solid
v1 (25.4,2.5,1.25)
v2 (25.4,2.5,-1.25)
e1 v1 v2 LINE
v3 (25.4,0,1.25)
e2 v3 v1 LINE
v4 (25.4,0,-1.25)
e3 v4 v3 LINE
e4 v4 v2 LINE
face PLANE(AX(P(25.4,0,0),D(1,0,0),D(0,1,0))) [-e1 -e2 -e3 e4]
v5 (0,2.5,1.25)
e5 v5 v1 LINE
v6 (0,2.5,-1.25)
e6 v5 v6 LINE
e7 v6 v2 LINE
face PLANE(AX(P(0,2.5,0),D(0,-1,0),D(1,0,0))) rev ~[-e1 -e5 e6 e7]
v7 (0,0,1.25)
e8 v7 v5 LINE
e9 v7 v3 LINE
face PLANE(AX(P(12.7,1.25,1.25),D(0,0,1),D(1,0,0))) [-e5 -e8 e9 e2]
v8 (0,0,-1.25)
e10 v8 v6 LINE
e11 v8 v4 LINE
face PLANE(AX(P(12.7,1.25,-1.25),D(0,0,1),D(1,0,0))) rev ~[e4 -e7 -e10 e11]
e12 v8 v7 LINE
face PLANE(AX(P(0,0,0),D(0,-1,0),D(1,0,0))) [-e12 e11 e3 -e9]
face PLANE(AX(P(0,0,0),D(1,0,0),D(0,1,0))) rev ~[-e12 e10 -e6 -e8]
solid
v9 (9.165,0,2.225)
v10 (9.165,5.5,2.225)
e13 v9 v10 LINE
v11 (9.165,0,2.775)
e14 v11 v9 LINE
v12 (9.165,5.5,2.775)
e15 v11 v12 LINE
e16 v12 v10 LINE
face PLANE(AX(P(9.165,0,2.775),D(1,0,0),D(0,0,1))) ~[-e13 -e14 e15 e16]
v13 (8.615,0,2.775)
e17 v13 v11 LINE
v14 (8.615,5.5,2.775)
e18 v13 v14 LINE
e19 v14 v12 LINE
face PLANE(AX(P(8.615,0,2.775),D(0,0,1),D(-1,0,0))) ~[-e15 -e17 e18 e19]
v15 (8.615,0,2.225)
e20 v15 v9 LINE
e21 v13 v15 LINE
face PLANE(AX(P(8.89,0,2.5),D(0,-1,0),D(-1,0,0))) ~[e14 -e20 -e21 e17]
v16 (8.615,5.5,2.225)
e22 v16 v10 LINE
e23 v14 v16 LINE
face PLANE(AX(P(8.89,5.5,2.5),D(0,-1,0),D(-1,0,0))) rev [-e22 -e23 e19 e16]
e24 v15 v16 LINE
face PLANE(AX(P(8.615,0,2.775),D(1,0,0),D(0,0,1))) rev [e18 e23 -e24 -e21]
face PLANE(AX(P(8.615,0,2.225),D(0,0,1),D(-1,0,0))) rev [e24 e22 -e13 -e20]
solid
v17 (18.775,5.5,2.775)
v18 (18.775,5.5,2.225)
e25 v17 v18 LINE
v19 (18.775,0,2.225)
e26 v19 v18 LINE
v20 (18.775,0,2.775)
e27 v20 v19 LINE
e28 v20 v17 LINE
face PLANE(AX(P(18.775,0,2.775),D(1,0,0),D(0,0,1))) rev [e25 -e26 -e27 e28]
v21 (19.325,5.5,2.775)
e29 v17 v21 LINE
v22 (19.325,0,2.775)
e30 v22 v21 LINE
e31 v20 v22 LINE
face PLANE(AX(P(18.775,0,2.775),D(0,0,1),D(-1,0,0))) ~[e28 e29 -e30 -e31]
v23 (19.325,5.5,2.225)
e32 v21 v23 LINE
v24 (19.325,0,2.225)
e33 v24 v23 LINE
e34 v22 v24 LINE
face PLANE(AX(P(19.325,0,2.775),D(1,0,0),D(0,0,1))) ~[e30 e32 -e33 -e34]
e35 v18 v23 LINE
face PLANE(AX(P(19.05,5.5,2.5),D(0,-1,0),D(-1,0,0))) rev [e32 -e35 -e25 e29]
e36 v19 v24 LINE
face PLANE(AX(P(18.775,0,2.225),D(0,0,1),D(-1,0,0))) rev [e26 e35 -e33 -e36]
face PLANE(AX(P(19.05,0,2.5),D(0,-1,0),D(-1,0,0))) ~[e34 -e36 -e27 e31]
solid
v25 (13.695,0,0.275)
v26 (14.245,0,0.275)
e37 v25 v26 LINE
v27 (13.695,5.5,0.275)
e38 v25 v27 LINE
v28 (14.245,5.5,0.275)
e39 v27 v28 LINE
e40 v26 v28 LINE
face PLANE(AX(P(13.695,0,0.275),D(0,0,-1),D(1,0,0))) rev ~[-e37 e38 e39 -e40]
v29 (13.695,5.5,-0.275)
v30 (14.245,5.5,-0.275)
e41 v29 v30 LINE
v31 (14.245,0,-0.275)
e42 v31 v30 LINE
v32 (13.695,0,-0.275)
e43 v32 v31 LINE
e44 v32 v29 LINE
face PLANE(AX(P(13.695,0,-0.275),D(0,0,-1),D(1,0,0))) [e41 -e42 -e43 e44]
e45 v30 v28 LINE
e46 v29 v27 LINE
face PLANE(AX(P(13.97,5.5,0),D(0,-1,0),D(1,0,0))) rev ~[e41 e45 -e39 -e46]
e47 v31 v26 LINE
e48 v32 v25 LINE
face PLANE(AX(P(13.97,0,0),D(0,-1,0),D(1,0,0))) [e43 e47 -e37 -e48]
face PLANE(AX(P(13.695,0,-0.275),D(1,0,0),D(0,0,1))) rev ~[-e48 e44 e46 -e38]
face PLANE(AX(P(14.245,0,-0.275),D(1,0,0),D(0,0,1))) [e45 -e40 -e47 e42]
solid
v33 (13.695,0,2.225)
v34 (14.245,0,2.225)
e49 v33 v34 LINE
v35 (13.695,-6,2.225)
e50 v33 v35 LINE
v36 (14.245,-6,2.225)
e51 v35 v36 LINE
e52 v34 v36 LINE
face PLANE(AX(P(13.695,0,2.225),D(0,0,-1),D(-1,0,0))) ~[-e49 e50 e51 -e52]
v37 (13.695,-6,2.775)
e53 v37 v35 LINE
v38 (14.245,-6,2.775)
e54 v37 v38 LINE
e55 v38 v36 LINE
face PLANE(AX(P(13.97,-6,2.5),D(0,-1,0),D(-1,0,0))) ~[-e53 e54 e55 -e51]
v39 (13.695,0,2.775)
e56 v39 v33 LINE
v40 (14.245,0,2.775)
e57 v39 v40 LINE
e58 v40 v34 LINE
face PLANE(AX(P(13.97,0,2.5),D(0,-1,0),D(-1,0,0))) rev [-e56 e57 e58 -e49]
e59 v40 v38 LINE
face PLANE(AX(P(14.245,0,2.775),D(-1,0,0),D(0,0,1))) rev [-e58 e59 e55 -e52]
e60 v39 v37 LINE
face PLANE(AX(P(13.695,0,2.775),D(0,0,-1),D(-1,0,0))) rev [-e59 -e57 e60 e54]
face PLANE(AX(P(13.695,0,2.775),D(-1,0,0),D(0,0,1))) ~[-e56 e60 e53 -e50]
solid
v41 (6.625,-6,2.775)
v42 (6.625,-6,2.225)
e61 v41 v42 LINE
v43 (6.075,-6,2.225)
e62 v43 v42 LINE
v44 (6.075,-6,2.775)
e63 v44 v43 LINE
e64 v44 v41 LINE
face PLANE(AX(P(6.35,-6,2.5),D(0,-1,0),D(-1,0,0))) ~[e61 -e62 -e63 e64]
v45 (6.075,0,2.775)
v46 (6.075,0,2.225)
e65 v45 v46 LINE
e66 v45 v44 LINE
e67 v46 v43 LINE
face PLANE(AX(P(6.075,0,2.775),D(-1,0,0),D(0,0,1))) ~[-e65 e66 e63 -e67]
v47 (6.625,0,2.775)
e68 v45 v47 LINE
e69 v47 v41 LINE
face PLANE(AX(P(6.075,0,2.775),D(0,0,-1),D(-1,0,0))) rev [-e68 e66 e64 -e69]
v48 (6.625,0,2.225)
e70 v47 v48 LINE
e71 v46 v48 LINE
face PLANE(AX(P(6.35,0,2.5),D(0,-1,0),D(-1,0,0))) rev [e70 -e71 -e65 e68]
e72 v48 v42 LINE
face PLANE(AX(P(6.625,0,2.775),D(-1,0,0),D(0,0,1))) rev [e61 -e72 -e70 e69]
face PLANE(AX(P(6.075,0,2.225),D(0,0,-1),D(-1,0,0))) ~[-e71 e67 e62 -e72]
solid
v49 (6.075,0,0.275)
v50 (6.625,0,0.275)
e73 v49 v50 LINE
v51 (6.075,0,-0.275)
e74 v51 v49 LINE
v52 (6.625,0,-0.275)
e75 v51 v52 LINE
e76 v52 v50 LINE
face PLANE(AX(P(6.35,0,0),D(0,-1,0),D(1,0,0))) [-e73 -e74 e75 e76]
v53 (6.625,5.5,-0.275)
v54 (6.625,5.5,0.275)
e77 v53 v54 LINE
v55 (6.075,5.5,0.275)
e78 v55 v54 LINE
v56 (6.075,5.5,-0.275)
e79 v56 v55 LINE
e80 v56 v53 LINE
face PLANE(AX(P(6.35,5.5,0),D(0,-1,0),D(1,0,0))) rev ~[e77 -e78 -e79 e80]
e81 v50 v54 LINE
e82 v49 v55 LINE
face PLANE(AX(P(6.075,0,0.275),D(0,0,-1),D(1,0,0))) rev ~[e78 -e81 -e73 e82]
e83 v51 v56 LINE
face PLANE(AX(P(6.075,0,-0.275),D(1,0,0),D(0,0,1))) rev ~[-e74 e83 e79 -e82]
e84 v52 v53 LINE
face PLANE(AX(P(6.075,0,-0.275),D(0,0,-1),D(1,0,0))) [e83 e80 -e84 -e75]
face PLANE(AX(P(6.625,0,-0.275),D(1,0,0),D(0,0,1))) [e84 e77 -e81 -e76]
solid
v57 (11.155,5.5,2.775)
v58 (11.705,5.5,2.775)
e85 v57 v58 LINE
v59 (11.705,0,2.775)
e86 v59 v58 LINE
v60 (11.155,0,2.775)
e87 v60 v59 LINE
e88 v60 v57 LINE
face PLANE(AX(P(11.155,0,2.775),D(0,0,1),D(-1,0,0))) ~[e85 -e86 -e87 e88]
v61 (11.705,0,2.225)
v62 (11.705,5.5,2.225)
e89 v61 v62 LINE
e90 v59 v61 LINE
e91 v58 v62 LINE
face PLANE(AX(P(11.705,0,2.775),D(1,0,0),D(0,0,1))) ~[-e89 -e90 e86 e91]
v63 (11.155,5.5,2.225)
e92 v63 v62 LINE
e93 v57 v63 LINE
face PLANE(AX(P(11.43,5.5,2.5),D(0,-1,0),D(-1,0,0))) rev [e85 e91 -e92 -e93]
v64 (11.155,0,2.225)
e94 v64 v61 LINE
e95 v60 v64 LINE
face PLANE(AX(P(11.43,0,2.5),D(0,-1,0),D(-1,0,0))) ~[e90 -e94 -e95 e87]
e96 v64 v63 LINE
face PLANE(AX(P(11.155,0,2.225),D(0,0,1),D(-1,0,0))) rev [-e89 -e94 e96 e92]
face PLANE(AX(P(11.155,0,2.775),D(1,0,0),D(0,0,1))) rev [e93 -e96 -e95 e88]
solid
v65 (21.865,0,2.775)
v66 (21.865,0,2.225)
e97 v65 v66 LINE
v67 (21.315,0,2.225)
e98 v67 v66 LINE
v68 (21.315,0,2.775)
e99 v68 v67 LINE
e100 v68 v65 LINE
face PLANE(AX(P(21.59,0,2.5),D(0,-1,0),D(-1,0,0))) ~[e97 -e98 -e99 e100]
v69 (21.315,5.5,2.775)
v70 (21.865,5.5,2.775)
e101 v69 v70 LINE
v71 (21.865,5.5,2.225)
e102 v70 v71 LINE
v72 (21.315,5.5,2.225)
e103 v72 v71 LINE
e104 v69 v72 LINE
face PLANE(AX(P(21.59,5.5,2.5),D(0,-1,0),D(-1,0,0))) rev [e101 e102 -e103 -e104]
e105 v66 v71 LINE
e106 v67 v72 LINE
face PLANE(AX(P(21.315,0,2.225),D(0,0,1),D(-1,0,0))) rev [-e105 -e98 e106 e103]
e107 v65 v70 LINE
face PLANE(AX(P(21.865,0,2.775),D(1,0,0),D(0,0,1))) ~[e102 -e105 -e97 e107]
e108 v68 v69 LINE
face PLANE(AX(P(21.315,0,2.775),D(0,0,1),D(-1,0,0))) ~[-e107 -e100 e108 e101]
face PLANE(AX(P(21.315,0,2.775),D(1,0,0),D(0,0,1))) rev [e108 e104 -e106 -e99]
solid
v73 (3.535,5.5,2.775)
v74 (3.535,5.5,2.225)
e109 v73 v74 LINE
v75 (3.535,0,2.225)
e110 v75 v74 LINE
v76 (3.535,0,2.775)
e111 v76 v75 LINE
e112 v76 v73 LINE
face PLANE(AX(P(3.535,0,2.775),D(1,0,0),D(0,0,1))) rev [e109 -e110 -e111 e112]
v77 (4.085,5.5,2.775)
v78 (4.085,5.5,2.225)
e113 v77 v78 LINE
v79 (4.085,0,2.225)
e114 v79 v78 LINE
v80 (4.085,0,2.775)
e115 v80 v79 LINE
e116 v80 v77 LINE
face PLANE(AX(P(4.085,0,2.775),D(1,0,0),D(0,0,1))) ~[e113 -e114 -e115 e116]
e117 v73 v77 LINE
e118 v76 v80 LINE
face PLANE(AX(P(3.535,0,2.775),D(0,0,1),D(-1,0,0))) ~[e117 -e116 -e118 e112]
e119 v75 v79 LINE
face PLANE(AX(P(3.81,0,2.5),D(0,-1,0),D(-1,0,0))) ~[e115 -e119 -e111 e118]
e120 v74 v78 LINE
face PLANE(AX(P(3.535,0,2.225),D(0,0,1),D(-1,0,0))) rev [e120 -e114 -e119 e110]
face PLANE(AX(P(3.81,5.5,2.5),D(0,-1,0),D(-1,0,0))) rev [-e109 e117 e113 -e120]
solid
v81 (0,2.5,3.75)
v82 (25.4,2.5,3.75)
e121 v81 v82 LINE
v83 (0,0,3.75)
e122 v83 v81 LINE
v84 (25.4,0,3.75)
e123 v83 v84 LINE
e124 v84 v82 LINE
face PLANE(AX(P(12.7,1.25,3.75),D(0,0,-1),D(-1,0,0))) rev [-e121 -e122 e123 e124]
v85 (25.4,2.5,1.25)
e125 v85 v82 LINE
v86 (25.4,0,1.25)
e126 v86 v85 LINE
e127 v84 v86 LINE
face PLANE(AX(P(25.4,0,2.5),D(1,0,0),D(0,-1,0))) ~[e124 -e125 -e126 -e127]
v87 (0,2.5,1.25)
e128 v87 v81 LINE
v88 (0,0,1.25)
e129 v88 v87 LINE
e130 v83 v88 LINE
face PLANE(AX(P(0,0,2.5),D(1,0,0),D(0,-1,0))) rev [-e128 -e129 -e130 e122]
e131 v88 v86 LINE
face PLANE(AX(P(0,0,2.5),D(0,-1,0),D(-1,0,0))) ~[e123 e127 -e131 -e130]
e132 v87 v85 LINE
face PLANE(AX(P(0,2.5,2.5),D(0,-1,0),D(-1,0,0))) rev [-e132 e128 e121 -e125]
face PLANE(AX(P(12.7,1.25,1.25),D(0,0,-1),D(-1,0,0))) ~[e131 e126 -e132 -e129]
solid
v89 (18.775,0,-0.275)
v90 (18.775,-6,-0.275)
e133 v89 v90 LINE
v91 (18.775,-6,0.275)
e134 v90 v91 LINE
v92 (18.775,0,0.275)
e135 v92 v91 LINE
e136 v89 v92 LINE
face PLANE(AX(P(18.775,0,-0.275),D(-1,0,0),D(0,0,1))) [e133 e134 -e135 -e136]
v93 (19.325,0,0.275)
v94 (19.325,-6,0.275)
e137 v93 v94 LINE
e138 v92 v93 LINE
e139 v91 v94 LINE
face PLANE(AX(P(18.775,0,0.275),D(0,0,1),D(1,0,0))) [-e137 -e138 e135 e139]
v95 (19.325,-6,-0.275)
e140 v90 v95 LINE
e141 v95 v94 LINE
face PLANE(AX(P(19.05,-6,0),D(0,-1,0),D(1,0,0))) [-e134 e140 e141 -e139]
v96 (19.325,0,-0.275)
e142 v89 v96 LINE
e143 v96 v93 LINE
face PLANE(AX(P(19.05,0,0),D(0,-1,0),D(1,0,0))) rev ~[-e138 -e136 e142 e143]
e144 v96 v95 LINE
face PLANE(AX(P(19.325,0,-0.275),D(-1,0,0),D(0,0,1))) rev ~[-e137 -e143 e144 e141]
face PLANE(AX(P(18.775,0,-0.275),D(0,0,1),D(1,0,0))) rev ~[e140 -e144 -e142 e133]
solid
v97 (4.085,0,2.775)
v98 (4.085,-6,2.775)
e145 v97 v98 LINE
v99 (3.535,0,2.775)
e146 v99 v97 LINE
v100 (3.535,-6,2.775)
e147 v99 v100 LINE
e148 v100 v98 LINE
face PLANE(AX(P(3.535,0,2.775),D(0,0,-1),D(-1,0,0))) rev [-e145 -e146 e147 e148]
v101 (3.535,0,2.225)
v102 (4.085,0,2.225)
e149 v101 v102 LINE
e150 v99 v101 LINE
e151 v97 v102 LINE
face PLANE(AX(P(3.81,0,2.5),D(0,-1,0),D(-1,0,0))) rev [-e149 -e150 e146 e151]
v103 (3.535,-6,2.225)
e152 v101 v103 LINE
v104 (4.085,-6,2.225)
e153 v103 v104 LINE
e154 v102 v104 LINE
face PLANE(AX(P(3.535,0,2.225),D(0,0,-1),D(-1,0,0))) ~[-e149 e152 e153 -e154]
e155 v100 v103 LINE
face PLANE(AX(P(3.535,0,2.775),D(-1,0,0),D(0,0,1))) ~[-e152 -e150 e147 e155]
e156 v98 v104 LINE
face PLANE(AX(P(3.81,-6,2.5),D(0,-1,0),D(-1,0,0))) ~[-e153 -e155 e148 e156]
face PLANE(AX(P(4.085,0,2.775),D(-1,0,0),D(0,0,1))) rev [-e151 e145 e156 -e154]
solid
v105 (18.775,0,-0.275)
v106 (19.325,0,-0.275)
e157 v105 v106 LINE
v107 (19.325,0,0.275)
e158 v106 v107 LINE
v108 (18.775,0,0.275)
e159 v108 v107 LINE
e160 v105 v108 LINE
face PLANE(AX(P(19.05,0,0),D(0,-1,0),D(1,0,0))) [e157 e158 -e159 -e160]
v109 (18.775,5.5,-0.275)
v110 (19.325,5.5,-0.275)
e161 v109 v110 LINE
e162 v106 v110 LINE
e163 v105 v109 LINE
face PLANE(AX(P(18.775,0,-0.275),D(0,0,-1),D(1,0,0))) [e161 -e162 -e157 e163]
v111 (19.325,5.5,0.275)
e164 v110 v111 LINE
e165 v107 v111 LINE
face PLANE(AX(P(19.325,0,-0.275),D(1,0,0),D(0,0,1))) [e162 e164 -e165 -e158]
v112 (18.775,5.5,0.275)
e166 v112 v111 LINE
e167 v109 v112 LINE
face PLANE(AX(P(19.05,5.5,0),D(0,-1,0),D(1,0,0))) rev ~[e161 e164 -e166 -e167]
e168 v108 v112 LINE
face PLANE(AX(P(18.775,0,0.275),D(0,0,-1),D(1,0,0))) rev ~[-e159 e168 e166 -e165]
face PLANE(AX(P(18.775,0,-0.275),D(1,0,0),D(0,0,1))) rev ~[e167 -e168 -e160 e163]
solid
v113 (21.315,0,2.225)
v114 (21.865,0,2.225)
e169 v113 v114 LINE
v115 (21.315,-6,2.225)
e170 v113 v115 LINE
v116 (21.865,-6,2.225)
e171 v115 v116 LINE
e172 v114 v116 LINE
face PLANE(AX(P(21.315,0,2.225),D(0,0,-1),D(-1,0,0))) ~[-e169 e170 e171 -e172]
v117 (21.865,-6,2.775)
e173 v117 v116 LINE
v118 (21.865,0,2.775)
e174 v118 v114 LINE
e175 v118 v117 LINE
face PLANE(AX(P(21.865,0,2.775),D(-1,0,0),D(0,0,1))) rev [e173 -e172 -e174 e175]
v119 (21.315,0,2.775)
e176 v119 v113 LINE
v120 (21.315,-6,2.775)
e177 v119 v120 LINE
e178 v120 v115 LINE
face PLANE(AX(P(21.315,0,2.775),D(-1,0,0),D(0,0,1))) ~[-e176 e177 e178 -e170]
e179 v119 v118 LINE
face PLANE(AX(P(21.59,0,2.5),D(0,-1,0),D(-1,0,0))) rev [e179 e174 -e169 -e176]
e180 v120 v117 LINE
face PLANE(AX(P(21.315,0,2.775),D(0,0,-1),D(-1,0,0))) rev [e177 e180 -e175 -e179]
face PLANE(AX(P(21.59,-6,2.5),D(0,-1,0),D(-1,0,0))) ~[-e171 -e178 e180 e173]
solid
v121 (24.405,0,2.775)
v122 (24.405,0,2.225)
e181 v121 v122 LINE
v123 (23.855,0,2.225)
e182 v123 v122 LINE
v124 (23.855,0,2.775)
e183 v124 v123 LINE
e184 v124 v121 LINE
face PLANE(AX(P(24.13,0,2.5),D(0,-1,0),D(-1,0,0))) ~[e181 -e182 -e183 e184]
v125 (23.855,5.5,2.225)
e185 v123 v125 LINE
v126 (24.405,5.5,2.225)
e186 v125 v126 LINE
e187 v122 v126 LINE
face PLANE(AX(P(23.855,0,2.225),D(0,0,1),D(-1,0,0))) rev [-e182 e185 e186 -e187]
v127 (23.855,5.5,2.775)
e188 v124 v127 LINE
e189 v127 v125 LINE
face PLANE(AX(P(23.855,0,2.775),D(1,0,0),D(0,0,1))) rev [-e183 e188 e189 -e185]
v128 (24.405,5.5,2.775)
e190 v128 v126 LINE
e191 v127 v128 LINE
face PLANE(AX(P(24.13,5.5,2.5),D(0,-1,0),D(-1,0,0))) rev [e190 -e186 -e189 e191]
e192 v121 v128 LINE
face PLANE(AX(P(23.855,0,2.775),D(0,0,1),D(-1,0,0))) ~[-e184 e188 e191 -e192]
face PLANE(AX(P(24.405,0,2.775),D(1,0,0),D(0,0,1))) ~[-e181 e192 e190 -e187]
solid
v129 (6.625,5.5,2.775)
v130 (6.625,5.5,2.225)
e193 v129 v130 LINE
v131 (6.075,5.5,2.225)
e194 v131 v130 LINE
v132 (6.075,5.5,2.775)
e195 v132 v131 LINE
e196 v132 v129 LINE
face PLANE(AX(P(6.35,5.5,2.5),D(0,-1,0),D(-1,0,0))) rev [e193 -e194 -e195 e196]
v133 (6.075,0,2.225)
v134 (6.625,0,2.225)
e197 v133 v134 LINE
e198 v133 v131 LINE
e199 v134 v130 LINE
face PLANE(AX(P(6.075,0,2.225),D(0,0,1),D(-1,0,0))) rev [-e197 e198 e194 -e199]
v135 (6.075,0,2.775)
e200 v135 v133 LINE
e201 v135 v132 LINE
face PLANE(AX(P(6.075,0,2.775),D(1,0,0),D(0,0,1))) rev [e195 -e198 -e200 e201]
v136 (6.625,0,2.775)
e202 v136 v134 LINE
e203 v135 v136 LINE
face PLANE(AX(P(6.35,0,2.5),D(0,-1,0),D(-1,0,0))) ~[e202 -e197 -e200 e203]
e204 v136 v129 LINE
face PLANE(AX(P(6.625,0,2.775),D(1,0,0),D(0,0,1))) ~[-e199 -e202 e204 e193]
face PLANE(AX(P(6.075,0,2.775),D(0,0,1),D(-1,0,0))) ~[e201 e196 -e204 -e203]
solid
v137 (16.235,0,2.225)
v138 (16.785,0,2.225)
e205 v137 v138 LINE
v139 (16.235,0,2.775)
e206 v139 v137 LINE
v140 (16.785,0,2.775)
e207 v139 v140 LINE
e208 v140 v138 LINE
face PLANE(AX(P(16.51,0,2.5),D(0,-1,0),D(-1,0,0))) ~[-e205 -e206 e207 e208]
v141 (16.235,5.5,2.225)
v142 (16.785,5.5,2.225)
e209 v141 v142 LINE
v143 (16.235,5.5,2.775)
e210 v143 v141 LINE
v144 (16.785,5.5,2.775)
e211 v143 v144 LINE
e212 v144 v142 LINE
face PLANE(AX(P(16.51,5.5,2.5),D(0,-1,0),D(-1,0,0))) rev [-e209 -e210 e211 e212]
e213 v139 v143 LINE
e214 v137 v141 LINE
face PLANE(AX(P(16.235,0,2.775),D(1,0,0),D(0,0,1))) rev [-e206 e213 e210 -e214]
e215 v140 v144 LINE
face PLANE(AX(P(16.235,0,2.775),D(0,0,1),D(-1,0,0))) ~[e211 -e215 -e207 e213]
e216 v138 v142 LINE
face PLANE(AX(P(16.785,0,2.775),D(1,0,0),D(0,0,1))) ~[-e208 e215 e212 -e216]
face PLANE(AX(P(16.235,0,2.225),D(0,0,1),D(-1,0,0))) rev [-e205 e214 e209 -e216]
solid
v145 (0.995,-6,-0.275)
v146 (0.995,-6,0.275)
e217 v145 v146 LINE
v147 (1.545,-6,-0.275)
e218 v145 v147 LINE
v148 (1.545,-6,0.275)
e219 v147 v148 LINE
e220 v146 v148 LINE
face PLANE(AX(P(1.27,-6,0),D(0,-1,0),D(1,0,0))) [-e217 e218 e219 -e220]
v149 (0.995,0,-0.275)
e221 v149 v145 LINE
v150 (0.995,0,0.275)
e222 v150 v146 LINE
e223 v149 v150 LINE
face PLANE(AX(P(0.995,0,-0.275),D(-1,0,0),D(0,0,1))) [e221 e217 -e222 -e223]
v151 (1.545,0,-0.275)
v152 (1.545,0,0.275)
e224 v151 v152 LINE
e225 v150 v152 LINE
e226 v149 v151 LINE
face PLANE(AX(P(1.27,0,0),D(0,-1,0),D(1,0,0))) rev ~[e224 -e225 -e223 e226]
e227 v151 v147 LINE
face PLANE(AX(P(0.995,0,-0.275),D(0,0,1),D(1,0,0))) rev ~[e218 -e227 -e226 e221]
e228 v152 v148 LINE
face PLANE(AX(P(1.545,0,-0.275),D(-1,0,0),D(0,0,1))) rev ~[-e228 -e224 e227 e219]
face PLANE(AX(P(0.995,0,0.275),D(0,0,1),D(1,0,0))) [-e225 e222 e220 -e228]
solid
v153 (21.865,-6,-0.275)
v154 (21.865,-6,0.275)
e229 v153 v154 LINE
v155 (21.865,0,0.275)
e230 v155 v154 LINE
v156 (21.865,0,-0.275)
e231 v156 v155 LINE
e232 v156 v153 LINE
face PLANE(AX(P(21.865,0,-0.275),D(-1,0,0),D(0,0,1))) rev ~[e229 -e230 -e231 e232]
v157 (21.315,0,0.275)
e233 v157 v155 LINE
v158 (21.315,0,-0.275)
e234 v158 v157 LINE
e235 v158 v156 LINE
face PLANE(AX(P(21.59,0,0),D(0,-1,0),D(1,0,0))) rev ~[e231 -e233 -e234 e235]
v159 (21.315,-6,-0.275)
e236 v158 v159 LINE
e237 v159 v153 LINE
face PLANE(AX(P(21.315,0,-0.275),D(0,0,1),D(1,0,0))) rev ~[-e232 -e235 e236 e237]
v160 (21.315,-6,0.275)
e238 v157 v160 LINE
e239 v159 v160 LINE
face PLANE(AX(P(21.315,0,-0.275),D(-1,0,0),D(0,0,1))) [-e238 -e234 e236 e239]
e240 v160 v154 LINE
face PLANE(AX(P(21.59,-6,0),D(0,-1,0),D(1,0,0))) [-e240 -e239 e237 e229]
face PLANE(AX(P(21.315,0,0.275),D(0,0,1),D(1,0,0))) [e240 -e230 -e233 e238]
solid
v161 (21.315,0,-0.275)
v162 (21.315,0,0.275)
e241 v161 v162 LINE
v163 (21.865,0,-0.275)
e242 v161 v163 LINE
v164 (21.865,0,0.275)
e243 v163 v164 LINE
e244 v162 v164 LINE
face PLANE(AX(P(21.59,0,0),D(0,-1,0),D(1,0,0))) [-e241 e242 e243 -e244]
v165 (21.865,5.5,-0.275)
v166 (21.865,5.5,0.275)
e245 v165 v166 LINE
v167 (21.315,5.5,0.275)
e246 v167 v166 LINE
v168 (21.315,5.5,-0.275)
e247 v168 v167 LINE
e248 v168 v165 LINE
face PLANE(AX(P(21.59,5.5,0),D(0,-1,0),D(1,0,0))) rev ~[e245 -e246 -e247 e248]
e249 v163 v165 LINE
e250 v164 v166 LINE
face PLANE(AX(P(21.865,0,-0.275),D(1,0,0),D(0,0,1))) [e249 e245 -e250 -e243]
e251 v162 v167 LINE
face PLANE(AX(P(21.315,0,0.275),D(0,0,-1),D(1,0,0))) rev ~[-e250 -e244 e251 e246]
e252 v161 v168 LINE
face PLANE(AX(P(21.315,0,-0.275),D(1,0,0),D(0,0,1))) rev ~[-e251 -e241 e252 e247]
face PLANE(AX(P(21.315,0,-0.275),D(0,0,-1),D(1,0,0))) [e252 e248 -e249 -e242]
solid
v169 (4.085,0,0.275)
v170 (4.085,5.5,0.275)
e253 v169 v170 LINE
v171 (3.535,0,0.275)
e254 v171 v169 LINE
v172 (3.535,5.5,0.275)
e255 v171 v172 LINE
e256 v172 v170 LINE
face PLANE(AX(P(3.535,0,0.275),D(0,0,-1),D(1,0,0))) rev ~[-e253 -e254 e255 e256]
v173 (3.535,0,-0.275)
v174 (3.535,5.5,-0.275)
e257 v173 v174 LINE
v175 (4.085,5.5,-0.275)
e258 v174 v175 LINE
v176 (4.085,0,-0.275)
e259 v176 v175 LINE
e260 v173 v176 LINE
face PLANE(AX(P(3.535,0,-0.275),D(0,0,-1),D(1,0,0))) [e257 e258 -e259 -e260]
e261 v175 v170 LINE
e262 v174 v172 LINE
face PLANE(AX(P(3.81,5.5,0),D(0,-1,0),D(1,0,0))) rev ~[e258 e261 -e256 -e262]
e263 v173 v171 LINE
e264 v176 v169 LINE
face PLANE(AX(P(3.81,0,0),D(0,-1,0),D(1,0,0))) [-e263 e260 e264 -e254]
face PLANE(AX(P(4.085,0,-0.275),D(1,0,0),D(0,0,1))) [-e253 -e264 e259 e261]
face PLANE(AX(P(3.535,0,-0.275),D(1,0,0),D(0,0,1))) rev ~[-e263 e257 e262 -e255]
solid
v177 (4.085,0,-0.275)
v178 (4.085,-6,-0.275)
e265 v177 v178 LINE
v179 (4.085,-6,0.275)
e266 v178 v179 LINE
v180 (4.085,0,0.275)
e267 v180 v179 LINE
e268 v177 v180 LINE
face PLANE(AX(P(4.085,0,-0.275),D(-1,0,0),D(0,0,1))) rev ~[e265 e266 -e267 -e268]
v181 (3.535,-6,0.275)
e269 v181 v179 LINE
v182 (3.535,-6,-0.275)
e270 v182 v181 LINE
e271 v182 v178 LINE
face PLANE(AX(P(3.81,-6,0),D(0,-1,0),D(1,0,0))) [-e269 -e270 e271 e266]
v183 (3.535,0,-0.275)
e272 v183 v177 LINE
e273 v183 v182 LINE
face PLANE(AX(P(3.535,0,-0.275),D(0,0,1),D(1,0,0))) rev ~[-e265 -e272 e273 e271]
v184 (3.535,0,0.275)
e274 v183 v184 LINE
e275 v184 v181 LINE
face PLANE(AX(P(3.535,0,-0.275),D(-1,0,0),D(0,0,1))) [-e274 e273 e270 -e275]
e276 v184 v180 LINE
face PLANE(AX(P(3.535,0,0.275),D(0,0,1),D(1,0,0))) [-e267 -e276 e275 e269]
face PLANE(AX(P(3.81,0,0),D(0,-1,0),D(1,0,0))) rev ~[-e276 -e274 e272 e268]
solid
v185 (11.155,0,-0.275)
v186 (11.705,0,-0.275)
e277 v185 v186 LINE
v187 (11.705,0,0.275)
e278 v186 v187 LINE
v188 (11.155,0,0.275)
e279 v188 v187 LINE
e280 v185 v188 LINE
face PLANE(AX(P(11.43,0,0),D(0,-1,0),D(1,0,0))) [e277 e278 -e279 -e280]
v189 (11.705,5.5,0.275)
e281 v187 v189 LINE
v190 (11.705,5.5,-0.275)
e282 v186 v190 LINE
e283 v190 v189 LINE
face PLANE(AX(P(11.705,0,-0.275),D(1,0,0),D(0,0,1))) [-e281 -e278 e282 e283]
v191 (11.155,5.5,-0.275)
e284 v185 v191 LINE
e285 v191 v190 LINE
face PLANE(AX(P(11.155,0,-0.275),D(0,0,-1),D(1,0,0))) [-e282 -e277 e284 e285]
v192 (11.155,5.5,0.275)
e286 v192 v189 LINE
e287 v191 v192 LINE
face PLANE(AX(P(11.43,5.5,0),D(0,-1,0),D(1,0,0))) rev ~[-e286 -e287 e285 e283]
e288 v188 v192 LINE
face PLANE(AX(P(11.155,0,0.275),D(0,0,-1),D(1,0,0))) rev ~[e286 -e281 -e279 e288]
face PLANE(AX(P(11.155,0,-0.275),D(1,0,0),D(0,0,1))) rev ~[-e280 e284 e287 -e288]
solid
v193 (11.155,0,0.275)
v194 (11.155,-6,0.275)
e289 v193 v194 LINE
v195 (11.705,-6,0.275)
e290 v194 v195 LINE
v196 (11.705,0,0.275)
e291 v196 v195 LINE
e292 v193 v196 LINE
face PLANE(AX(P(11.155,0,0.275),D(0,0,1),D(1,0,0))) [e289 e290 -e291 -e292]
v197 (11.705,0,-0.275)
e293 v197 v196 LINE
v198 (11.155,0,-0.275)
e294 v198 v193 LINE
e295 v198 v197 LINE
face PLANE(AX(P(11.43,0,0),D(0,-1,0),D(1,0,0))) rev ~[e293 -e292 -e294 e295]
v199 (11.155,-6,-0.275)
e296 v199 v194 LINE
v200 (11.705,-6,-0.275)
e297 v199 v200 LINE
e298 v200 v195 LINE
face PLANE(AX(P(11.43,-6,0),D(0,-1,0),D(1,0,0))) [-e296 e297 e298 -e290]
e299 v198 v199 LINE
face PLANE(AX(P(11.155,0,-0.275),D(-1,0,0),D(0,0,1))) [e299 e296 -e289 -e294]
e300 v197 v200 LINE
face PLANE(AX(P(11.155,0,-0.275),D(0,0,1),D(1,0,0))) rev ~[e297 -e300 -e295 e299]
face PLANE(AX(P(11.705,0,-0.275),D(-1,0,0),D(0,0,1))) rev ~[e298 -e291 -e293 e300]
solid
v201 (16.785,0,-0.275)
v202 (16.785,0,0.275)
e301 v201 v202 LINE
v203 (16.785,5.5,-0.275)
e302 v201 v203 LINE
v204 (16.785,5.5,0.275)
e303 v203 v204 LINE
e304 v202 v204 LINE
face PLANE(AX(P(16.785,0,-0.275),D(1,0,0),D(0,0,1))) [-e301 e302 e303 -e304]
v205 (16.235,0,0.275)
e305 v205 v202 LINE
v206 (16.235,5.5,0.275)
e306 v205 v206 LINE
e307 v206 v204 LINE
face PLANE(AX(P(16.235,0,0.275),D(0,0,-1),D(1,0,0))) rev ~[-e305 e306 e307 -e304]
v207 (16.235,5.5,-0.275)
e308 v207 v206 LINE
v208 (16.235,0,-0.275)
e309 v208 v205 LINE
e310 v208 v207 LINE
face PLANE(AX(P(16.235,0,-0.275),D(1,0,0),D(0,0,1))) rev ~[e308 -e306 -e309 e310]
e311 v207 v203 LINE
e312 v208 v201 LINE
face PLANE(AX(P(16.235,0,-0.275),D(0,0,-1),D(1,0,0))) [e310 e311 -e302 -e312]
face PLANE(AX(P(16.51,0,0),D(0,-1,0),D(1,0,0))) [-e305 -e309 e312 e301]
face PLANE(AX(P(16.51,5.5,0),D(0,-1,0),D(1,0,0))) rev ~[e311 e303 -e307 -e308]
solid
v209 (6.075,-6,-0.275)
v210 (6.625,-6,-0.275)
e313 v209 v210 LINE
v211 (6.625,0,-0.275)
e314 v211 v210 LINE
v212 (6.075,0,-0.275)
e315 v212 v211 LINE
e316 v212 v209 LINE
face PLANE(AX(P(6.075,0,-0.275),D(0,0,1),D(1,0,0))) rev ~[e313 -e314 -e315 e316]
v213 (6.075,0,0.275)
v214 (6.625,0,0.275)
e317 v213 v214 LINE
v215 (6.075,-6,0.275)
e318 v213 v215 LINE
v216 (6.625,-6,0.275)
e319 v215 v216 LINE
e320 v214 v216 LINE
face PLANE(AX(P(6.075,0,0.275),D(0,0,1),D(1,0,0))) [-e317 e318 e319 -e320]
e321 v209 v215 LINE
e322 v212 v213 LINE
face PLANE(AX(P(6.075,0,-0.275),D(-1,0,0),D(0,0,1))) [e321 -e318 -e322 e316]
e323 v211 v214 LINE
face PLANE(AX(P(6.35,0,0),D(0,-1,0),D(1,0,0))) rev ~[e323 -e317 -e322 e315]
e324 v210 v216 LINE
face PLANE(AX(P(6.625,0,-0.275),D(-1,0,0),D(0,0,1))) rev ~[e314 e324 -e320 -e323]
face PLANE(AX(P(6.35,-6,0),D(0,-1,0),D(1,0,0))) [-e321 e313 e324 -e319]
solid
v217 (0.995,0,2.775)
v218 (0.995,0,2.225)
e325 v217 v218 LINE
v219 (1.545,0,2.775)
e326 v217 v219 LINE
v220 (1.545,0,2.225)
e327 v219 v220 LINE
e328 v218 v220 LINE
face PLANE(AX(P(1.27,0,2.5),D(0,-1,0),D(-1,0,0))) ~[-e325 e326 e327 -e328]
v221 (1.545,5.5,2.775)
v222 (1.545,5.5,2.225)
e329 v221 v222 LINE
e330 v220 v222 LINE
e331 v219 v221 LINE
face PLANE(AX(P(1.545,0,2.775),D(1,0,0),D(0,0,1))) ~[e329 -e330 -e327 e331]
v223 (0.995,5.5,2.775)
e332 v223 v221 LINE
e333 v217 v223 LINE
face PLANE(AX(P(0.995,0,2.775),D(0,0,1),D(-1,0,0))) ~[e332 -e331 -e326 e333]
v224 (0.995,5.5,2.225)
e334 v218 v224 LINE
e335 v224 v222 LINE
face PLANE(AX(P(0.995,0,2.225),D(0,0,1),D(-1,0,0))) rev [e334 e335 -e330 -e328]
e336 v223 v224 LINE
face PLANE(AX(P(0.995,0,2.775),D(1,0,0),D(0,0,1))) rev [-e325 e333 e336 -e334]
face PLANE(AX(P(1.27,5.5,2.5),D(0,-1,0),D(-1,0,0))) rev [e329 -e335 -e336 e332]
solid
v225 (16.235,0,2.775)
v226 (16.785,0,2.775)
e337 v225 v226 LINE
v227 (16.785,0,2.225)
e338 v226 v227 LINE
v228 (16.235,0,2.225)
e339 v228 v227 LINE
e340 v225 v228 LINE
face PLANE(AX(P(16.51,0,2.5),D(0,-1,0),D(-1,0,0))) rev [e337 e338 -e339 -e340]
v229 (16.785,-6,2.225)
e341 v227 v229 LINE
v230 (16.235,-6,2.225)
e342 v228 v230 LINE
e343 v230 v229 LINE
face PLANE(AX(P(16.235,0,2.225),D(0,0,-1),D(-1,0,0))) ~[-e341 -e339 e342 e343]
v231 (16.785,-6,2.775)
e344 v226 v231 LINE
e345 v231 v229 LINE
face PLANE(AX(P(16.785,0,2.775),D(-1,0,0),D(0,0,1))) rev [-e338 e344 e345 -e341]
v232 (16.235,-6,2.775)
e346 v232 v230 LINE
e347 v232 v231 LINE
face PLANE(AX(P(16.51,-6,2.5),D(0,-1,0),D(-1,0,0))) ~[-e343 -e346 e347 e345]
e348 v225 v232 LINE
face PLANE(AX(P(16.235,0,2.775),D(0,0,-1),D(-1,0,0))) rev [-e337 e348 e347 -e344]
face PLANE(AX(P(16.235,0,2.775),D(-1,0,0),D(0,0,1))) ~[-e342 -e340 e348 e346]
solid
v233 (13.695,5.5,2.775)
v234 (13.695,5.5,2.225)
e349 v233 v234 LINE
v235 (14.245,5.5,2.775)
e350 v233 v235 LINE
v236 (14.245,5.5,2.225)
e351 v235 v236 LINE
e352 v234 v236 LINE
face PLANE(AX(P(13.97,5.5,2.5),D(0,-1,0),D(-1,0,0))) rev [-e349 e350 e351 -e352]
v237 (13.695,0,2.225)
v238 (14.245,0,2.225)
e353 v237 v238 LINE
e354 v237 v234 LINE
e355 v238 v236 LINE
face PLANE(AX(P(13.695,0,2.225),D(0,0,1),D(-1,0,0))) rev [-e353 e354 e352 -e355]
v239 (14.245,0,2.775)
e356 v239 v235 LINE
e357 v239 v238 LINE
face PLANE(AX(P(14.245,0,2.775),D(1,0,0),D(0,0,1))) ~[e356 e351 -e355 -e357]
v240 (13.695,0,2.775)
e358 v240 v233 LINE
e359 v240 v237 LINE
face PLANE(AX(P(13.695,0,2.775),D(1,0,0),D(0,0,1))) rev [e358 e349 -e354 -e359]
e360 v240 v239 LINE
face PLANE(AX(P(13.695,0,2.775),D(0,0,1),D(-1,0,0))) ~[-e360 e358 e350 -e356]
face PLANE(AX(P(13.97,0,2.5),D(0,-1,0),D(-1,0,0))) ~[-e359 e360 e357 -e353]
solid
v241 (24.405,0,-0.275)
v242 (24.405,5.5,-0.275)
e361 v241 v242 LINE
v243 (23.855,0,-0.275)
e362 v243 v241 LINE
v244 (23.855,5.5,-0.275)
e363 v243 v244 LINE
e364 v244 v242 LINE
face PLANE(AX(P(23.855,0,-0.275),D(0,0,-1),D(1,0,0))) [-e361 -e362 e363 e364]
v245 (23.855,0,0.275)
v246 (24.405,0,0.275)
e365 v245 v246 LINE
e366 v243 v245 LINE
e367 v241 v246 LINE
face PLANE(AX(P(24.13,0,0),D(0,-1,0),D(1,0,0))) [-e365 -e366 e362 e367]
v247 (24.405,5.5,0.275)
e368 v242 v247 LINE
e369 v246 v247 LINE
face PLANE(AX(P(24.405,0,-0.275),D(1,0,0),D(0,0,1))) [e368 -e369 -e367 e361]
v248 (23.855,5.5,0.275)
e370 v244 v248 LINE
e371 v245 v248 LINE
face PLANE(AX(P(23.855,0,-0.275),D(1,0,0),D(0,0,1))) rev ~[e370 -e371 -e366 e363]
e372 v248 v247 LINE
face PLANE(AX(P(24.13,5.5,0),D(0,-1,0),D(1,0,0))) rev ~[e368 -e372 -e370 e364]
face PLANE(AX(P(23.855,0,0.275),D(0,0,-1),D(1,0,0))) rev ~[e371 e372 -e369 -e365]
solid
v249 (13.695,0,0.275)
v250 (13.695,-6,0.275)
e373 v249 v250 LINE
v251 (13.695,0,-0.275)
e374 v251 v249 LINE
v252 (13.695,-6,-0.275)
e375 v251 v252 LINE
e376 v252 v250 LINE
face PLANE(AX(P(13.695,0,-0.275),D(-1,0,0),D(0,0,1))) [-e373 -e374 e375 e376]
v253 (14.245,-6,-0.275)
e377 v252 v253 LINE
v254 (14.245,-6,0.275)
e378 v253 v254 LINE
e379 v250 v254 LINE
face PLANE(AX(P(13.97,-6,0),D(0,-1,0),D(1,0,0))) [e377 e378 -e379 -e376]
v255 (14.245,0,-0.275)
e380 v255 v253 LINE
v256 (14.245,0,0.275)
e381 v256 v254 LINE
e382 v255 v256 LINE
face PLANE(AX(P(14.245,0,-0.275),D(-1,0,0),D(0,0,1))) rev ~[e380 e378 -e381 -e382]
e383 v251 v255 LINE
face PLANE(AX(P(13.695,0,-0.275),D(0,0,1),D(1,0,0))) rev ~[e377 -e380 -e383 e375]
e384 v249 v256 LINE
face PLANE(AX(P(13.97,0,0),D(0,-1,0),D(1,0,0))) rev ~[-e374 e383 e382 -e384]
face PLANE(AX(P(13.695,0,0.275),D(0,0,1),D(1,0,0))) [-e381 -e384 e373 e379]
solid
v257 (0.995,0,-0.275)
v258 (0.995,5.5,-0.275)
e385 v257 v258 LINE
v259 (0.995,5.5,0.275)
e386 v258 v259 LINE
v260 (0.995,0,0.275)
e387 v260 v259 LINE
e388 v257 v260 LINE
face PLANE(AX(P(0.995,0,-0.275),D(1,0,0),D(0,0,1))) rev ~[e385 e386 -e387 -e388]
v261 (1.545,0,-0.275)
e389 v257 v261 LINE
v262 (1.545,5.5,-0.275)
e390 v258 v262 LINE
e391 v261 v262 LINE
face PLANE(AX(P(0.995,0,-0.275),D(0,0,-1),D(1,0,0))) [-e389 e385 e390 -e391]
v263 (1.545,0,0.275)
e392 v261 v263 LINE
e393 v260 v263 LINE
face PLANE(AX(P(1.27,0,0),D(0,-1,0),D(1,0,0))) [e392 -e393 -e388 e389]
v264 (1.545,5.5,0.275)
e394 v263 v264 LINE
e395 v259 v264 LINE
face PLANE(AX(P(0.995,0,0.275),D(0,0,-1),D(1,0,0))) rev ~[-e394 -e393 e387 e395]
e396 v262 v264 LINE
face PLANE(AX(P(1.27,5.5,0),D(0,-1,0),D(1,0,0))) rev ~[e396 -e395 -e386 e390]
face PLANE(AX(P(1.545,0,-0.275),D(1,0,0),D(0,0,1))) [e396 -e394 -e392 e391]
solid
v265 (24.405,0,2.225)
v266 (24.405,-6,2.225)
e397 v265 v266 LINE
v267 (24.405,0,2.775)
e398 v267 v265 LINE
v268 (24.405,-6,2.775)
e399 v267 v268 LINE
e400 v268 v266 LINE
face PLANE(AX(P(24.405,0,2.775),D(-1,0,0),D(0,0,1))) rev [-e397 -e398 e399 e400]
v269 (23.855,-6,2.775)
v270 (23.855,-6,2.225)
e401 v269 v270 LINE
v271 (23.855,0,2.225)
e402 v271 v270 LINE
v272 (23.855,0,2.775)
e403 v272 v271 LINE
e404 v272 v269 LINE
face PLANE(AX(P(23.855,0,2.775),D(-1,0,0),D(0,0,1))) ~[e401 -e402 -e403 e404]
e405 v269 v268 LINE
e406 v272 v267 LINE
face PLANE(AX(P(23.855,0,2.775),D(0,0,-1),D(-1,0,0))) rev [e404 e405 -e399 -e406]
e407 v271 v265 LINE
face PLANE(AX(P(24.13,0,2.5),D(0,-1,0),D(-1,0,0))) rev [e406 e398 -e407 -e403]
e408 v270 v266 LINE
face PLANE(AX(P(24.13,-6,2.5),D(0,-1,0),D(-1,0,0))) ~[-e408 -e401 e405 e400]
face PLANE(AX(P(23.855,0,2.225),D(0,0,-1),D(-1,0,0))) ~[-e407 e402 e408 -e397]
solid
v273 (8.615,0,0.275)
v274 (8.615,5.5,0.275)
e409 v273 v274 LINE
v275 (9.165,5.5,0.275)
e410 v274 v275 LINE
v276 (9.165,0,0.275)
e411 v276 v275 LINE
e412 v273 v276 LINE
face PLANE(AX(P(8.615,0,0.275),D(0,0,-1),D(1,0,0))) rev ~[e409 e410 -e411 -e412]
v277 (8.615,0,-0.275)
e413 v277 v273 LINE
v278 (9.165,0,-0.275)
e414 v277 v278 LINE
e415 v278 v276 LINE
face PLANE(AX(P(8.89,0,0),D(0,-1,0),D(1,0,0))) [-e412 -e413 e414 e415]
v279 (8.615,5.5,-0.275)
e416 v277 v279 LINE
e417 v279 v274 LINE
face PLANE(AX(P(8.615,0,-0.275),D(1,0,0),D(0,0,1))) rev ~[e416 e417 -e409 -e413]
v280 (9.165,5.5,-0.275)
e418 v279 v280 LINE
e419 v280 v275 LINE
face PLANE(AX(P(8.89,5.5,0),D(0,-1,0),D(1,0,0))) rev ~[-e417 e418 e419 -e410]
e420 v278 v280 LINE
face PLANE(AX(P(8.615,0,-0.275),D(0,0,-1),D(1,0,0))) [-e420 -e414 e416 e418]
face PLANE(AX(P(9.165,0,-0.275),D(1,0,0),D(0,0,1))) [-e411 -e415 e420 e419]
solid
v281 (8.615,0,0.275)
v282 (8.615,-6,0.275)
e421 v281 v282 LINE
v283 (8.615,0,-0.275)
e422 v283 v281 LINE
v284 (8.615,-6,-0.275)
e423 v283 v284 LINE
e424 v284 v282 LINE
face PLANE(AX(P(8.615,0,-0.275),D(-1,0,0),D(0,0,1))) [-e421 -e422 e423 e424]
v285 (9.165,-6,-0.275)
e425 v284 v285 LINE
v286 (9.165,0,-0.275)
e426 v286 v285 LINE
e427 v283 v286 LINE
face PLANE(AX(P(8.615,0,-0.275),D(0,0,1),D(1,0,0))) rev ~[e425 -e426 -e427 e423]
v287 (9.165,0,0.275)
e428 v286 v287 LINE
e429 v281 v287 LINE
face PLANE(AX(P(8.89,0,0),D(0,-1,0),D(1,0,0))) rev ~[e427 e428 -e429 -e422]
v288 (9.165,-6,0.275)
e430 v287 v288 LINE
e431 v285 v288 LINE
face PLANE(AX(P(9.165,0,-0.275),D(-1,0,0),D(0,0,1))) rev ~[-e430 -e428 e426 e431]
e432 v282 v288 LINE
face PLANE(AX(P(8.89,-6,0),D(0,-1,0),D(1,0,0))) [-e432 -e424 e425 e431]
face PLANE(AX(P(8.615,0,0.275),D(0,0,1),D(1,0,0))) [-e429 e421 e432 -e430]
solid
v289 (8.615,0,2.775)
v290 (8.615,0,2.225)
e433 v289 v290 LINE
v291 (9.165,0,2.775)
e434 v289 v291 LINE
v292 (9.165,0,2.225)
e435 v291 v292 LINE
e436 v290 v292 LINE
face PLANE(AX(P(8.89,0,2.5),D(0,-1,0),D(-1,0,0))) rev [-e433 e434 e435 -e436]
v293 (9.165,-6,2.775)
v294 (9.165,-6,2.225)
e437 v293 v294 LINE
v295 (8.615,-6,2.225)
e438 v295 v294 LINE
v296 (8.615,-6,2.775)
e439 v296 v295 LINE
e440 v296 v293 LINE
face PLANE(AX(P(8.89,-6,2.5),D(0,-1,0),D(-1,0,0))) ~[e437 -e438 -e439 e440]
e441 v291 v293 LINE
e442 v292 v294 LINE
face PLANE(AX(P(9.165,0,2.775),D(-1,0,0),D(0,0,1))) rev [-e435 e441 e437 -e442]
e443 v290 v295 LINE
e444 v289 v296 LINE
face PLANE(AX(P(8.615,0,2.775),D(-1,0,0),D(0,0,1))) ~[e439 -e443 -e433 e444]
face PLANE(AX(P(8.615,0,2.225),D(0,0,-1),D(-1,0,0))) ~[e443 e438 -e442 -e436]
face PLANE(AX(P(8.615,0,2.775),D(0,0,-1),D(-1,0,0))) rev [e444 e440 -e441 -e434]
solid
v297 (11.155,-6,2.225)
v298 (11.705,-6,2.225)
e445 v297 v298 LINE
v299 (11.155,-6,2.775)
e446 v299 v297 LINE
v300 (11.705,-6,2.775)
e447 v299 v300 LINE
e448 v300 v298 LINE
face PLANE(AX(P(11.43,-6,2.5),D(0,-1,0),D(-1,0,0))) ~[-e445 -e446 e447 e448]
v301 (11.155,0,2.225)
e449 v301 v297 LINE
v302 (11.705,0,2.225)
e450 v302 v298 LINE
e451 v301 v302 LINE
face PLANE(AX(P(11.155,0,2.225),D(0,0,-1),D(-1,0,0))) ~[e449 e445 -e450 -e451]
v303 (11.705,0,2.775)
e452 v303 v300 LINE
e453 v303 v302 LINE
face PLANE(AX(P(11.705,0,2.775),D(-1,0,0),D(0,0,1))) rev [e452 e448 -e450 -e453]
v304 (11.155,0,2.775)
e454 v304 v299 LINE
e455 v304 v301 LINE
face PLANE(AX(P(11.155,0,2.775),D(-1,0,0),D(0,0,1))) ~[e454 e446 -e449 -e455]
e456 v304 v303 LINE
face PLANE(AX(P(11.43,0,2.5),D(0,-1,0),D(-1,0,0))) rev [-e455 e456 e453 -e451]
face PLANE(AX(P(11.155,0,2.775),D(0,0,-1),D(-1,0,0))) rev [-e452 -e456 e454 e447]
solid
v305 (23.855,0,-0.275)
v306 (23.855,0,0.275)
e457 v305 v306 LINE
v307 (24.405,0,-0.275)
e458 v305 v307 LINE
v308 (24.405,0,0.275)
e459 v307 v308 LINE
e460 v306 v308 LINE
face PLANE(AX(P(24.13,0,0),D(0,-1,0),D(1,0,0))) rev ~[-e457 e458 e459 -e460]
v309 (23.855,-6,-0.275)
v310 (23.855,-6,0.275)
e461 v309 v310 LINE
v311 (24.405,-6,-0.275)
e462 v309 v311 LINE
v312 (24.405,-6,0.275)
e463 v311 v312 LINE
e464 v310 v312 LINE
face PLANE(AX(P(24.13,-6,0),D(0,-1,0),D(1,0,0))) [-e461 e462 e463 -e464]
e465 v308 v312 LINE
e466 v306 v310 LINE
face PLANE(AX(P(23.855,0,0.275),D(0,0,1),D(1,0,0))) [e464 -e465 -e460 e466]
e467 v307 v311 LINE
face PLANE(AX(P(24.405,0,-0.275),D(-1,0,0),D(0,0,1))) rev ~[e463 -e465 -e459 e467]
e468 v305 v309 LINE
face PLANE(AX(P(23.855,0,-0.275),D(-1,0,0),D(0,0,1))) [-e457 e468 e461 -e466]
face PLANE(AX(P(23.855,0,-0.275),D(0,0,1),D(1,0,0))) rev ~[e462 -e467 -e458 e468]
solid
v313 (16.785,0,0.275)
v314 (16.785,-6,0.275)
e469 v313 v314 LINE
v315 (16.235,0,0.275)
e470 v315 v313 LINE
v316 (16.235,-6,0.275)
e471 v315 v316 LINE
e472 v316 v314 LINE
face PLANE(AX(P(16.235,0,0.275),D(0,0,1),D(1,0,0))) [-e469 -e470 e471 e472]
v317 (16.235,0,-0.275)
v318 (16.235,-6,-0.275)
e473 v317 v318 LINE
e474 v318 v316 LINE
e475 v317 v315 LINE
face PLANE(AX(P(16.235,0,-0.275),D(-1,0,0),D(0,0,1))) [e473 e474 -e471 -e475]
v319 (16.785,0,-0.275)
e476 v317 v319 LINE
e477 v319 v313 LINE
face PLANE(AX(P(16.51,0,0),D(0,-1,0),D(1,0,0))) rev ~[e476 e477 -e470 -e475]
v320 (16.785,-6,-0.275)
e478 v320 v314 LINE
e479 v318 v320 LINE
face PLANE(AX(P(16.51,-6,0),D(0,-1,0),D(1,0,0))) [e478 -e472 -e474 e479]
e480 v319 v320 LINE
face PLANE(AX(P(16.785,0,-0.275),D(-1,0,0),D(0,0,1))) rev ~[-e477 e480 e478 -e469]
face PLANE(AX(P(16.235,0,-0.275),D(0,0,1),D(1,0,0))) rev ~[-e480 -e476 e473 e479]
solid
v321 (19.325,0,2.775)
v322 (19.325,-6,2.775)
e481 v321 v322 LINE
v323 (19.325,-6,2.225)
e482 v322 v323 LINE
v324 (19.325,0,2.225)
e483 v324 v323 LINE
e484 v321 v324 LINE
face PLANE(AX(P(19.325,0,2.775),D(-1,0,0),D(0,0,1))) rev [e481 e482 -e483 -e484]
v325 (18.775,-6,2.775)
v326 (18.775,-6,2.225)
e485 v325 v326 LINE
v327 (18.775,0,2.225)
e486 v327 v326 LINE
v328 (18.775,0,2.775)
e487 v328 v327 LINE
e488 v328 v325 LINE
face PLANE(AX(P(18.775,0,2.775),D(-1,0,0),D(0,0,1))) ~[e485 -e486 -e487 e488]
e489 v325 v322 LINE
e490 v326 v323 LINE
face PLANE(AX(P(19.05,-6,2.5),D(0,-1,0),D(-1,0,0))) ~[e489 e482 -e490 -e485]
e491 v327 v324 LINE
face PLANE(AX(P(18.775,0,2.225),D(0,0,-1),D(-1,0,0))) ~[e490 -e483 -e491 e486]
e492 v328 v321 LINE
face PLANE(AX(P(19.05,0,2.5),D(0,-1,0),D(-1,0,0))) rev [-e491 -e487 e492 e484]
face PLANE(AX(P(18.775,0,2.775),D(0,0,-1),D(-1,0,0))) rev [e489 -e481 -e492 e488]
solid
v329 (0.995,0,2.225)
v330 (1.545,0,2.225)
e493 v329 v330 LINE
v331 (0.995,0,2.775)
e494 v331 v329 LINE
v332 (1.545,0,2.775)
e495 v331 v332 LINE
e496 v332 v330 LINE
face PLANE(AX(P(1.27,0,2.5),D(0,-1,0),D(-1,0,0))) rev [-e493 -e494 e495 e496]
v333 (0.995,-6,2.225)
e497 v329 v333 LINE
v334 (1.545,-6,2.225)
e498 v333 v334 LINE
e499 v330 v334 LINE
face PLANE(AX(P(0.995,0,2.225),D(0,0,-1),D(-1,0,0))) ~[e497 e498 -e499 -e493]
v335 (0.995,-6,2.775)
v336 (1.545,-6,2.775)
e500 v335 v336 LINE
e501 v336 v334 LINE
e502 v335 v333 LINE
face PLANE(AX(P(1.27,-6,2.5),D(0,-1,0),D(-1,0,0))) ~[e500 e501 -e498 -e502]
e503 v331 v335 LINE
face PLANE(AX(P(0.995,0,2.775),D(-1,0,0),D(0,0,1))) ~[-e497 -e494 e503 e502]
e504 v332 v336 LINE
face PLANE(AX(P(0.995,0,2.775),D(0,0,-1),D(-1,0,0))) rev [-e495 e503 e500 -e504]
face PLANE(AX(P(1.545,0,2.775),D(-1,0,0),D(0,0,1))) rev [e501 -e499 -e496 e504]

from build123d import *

# Parameters (mm, degrees)
SKETCH1_W              = 25.4
SKETCH1_H              = 2.5
BOSS_EXTRUDE1_DEPTH    = 1.25
SKETCH2_W              = 0.55
SKETCH2_H              = 0.55
BOSS_EXTRUDE2_DEPTH    = 6
BOSS_EXTRUDE2_2_DEPTH  = 6
BOSS_EXTRUDE2_3_DEPTH  = 6
BOSS_EXTRUDE2_4_DEPTH  = 6
BOSS_EXTRUDE2_5_DEPTH  = 6
BOSS_EXTRUDE2_6_DEPTH  = 6
BOSS_EXTRUDE2_7_DEPTH  = 6
BOSS_EXTRUDE2_8_DEPTH  = 6
BOSS_EXTRUDE2_9_DEPTH  = 6
BOSS_EXTRUDE2_10_DEPTH = 6
SKETCH2_2_W            = 0.55
SKETCH2_2_H            = 0.55
BOSS_EXTRUDE3_DEPTH    = 5.5
BOSS_EXTRUDE3_2_DEPTH  = 5.5
BOSS_EXTRUDE3_3_DEPTH  = 5.5
BOSS_EXTRUDE3_4_DEPTH  = 5.5
BOSS_EXTRUDE3_5_DEPTH  = 5.5
BOSS_EXTRUDE3_6_DEPTH  = 5.5
BOSS_EXTRUDE3_7_DEPTH  = 5.5
BOSS_EXTRUDE3_8_DEPTH  = 5.5
BOSS_EXTRUDE3_9_DEPTH  = 5.5
BOSS_EXTRUDE3_10_DEPTH = 5.5


with BuildPart() as part:
    # Sketch1 → Boss-Extrude1 (new, symmetric)
    with BuildSketch(Plane.XY):
        with Locations((12.7, 1.25)):
            Rectangle(SKETCH1_W, SKETCH1_H)
    extrude(amount=BOSS_EXTRUDE1_DEPTH, both=True)


with BuildPart() as body_2:
    # Sketch2 → Boss-Extrude2 (new body)
    with BuildSketch(Plane.XZ):
        with Locations((3.81, 0)):
            Rectangle(SKETCH2_W, SKETCH2_H)
    extrude(amount=BOSS_EXTRUDE2_DEPTH)


with BuildPart() as body_3:
    # Sketch2 → Boss-Extrude2 2 (new body)
    with BuildSketch(Plane.XZ):
        with Locations((1.27, 0)):
            Rectangle(SKETCH2_W, SKETCH2_H)
    extrude(amount=BOSS_EXTRUDE2_2_DEPTH)


with BuildPart() as body_4:
    # Sketch2 → Boss-Extrude2 3 (new body)
    with BuildSketch(Plane.XZ):
        with Locations((6.35, 0)):
            Rectangle(SKETCH2_W, SKETCH2_H)
    extrude(amount=BOSS_EXTRUDE2_3_DEPTH)


with BuildPart() as body_5:
    # Sketch2 → Boss-Extrude2 4 (new body)
    with BuildSketch(Plane.XZ):
        with Locations((8.89, 0)):
            Rectangle(SKETCH2_W, SKETCH2_H)
    extrude(amount=BOSS_EXTRUDE2_4_DEPTH)


with BuildPart() as body_6:
    # Sketch2 → Boss-Extrude2 5 (new body)
    with BuildSketch(Plane.XZ):
        with Locations((11.43, 0)):
            Rectangle(SKETCH2_W, SKETCH2_H)
    extrude(amount=BOSS_EXTRUDE2_5_DEPTH)


with BuildPart() as body_7:
    # Sketch2 → Boss-Extrude2 6 (new body)
    with BuildSketch(Plane.XZ):
        with Locations((13.97, 0)):
            Rectangle(SKETCH2_W, SKETCH2_H)
    extrude(amount=BOSS_EXTRUDE2_6_DEPTH)


with BuildPart() as body_8:
    # Sketch2 → Boss-Extrude2 7 (new body)
    with BuildSketch(Plane.XZ):
        with Locations((16.51, 0)):
            Rectangle(SKETCH2_W, SKETCH2_H)
    extrude(amount=BOSS_EXTRUDE2_7_DEPTH)


with BuildPart() as body_9:
    # Sketch2 → Boss-Extrude2 8 (new body)
    with BuildSketch(Plane.XZ):
        with Locations((19.05, 0)):
            Rectangle(SKETCH2_W, SKETCH2_H)
    extrude(amount=BOSS_EXTRUDE2_8_DEPTH)


with BuildPart() as body_10:
    # Sketch2 → Boss-Extrude2 9 (new body)
    with BuildSketch(Plane.XZ):
        with Locations((21.59, 0)):
            Rectangle(SKETCH2_W, SKETCH2_H)
    extrude(amount=BOSS_EXTRUDE2_9_DEPTH)


with BuildPart() as body_11:
    # Sketch2 → Boss-Extrude2 10 (new body)
    with BuildSketch(Plane.XZ):
        with Locations((24.13, 0)):
            Rectangle(SKETCH2_W, SKETCH2_H)
    extrude(amount=BOSS_EXTRUDE2_10_DEPTH)


with BuildPart() as body_12:
    # Sketch2<2> → Boss-Extrude3 (new body)
    with BuildSketch(Plane.XZ):
        with Locations((3.81, 0)):
            Rectangle(SKETCH2_2_W, SKETCH2_2_H)
    extrude(amount=-BOSS_EXTRUDE3_DEPTH)


with BuildPart() as body_13:
    # Sketch2<2> → Boss-Extrude3 2 (new body)
    with BuildSketch(Plane.XZ):
        with Locations((1.27, 0)):
            Rectangle(SKETCH2_2_W, SKETCH2_2_H)
    extrude(amount=-BOSS_EXTRUDE3_2_DEPTH)


with BuildPart() as body_14:
    # Sketch2<2> → Boss-Extrude3 3 (new body)
    with BuildSketch(Plane.XZ):
        with Locations((6.35, 0)):
            Rectangle(SKETCH2_2_W, SKETCH2_2_H)
    extrude(amount=-BOSS_EXTRUDE3_3_DEPTH)


with BuildPart() as body_15:
    # Sketch2<2> → Boss-Extrude3 4 (new body)
    with BuildSketch(Plane.XZ):
        with Locations((8.89, 0)):
            Rectangle(SKETCH2_2_W, SKETCH2_2_H)
    extrude(amount=-BOSS_EXTRUDE3_4_DEPTH)


with BuildPart() as body_16:
    # Sketch2<2> → Boss-Extrude3 5 (new body)
    with BuildSketch(Plane.XZ):
        with Locations((11.43, 0)):
            Rectangle(SKETCH2_2_W, SKETCH2_2_H)
    extrude(amount=-BOSS_EXTRUDE3_5_DEPTH)


with BuildPart() as body_17:
    # Sketch2<2> → Boss-Extrude3 6 (new body)
    with BuildSketch(Plane.XZ):
        with Locations((13.97, 0)):
            Rectangle(SKETCH2_2_W, SKETCH2_2_H)
    extrude(amount=-BOSS_EXTRUDE3_6_DEPTH)


with BuildPart() as body_18:
    # Sketch2<2> → Boss-Extrude3 7 (new body)
    with BuildSketch(Plane.XZ):
        with Locations((16.51, 0)):
            Rectangle(SKETCH2_2_W, SKETCH2_2_H)
    extrude(amount=-BOSS_EXTRUDE3_7_DEPTH)


with BuildPart() as body_19:
    # Sketch2<2> → Boss-Extrude3 8 (new body)
    with BuildSketch(Plane.XZ):
        with Locations((19.05, 0)):
            Rectangle(SKETCH2_2_W, SKETCH2_2_H)
    extrude(amount=-BOSS_EXTRUDE3_8_DEPTH)


with BuildPart() as body_20:
    # Sketch2<2> → Boss-Extrude3 9 (new body)
    with BuildSketch(Plane.XZ):
        with Locations((21.59, 0)):
            Rectangle(SKETCH2_2_W, SKETCH2_2_H)
    extrude(amount=-BOSS_EXTRUDE3_9_DEPTH)


with BuildPart() as body_21:
    # Sketch2<2> → Boss-Extrude3 10 (new body)
    with BuildSketch(Plane.XZ):
        with Locations((24.13, 0)):
            Rectangle(SKETCH2_2_W, SKETCH2_2_H)
    extrude(amount=-BOSS_EXTRUDE3_10_DEPTH)


with BuildPart() as body_22:
    # Mirror1: mirrored copy
    add(part.part.mirror(Plane(origin=(0, 0, 1.25), x_dir=(1, 0, 0), z_dir=(0, 0, -1))))


with BuildPart() as body_23:
    # Mirror1 2: mirrored copy
    add(body_13.part.mirror(Plane(origin=(0, 0, 1.25), x_dir=(1, 0, 0), z_dir=(0, 0, -1))))


with BuildPart() as body_24:
    # Mirror1 3: mirrored copy
    add(body_12.part.mirror(Plane(origin=(0, 0, 1.25), x_dir=(1, 0, 0), z_dir=(0, 0, -1))))


with BuildPart() as body_25:
    # Mirror1 4: mirrored copy
    add(body_14.part.mirror(Plane(origin=(0, 0, 1.25), x_dir=(1, 0, 0), z_dir=(0, 0, -1))))


with BuildPart() as body_26:
    # Mirror1 5: mirrored copy
    add(body_15.part.mirror(Plane(origin=(0, 0, 1.25), x_dir=(1, 0, 0), z_dir=(0, 0, -1))))


with BuildPart() as body_27:
    # Mirror1 6: mirrored copy
    add(body_16.part.mirror(Plane(origin=(0, 0, 1.25), x_dir=(1, 0, 0), z_dir=(0, 0, -1))))


with BuildPart() as body_28:
    # Mirror1 7: mirrored copy
    add(body_17.part.mirror(Plane(origin=(0, 0, 1.25), x_dir=(1, 0, 0), z_dir=(0, 0, -1))))


with BuildPart() as body_29:
    # Mirror1 8: mirrored copy
    add(body_18.part.mirror(Plane(origin=(0, 0, 1.25), x_dir=(1, 0, 0), z_dir=(0, 0, -1))))


with BuildPart() as body_30:
    # Mirror1 9: mirrored copy
    add(body_19.part.mirror(Plane(origin=(0, 0, 1.25), x_dir=(1, 0, 0), z_dir=(0, 0, -1))))


with BuildPart() as body_31:
    # Mirror1 10: mirrored copy
    add(body_20.part.mirror(Plane(origin=(0, 0, 1.25), x_dir=(1, 0, 0), z_dir=(0, 0, -1))))


with BuildPart() as body_32:
    # Mirror1 11: mirrored copy
    add(body_21.part.mirror(Plane(origin=(0, 0, 1.25), x_dir=(1, 0, 0), z_dir=(0, 0, -1))))


with BuildPart() as body_33:
    # Mirror1 12: mirrored copy
    add(body_11.part.mirror(Plane(origin=(0, 0, 1.25), x_dir=(1, 0, 0), z_dir=(0, 0, -1))))


with BuildPart() as body_34:
    # Mirror1 13: mirrored copy
    add(body_10.part.mirror(Plane(origin=(0, 0, 1.25), x_dir=(1, 0, 0), z_dir=(0, 0, -1))))


with BuildPart() as body_35:
    # Mirror1 14: mirrored copy
    add(body_9.part.mirror(Plane(origin=(0, 0, 1.25), x_dir=(1, 0, 0), z_dir=(0, 0, -1))))


with BuildPart() as body_36:
    # Mirror1 15: mirrored copy
    add(body_8.part.mirror(Plane(origin=(0, 0, 1.25), x_dir=(1, 0, 0), z_dir=(0, 0, -1))))


with BuildPart() as body_37:
    # Mirror1 16: mirrored copy
    add(body_7.part.mirror(Plane(origin=(0, 0, 1.25), x_dir=(1, 0, 0), z_dir=(0, 0, -1))))


with BuildPart() as body_38:
    # Mirror1 17: mirrored copy
    add(body_6.part.mirror(Plane(origin=(0, 0, 1.25), x_dir=(1, 0, 0), z_dir=(0, 0, -1))))


with BuildPart() as body_39:
    # Mirror1 18: mirrored copy
    add(body_5.part.mirror(Plane(origin=(0, 0, 1.25), x_dir=(1, 0, 0), z_dir=(0, 0, -1))))


with BuildPart() as body_40:
    # Mirror1 19: mirrored copy
    add(body_4.part.mirror(Plane(origin=(0, 0, 1.25), x_dir=(1, 0, 0), z_dir=(0, 0, -1))))


with BuildPart() as body_41:
    # Mirror1 20: mirrored copy
    add(body_2.part.mirror(Plane(origin=(0, 0, 1.25), x_dir=(1, 0, 0), z_dir=(0, 0, -1))))


with BuildPart() as body_42:
    # Mirror1 21: mirrored copy
    add(body_3.part.mirror(Plane(origin=(0, 0, 1.25), x_dir=(1, 0, 0), z_dir=(0, 0, -1))))


solid = Compound([part.part, body_2.part, body_3.part, body_4.part, body_5.part, body_6.part, body_7.part, body_8.part, body_9.part, body_10.part, body_11.part, body_12.part, body_13.part, body_14.part, body_15.part, body_16.part, body_17.part, body_18.part, body_19.part, body_20.part, body_21.part, body_22.part, body_23.part, body_24.part, body_25.part, body_26.part, body_27.part, body_28.part, body_29.part, body_30.part, body_31.part, body_32.part, body_33.part, body_34.part, body_35.part, body_36.part, body_37.part, body_38.part, body_39.part, body_40.part, body_41.part, body_42.part])
